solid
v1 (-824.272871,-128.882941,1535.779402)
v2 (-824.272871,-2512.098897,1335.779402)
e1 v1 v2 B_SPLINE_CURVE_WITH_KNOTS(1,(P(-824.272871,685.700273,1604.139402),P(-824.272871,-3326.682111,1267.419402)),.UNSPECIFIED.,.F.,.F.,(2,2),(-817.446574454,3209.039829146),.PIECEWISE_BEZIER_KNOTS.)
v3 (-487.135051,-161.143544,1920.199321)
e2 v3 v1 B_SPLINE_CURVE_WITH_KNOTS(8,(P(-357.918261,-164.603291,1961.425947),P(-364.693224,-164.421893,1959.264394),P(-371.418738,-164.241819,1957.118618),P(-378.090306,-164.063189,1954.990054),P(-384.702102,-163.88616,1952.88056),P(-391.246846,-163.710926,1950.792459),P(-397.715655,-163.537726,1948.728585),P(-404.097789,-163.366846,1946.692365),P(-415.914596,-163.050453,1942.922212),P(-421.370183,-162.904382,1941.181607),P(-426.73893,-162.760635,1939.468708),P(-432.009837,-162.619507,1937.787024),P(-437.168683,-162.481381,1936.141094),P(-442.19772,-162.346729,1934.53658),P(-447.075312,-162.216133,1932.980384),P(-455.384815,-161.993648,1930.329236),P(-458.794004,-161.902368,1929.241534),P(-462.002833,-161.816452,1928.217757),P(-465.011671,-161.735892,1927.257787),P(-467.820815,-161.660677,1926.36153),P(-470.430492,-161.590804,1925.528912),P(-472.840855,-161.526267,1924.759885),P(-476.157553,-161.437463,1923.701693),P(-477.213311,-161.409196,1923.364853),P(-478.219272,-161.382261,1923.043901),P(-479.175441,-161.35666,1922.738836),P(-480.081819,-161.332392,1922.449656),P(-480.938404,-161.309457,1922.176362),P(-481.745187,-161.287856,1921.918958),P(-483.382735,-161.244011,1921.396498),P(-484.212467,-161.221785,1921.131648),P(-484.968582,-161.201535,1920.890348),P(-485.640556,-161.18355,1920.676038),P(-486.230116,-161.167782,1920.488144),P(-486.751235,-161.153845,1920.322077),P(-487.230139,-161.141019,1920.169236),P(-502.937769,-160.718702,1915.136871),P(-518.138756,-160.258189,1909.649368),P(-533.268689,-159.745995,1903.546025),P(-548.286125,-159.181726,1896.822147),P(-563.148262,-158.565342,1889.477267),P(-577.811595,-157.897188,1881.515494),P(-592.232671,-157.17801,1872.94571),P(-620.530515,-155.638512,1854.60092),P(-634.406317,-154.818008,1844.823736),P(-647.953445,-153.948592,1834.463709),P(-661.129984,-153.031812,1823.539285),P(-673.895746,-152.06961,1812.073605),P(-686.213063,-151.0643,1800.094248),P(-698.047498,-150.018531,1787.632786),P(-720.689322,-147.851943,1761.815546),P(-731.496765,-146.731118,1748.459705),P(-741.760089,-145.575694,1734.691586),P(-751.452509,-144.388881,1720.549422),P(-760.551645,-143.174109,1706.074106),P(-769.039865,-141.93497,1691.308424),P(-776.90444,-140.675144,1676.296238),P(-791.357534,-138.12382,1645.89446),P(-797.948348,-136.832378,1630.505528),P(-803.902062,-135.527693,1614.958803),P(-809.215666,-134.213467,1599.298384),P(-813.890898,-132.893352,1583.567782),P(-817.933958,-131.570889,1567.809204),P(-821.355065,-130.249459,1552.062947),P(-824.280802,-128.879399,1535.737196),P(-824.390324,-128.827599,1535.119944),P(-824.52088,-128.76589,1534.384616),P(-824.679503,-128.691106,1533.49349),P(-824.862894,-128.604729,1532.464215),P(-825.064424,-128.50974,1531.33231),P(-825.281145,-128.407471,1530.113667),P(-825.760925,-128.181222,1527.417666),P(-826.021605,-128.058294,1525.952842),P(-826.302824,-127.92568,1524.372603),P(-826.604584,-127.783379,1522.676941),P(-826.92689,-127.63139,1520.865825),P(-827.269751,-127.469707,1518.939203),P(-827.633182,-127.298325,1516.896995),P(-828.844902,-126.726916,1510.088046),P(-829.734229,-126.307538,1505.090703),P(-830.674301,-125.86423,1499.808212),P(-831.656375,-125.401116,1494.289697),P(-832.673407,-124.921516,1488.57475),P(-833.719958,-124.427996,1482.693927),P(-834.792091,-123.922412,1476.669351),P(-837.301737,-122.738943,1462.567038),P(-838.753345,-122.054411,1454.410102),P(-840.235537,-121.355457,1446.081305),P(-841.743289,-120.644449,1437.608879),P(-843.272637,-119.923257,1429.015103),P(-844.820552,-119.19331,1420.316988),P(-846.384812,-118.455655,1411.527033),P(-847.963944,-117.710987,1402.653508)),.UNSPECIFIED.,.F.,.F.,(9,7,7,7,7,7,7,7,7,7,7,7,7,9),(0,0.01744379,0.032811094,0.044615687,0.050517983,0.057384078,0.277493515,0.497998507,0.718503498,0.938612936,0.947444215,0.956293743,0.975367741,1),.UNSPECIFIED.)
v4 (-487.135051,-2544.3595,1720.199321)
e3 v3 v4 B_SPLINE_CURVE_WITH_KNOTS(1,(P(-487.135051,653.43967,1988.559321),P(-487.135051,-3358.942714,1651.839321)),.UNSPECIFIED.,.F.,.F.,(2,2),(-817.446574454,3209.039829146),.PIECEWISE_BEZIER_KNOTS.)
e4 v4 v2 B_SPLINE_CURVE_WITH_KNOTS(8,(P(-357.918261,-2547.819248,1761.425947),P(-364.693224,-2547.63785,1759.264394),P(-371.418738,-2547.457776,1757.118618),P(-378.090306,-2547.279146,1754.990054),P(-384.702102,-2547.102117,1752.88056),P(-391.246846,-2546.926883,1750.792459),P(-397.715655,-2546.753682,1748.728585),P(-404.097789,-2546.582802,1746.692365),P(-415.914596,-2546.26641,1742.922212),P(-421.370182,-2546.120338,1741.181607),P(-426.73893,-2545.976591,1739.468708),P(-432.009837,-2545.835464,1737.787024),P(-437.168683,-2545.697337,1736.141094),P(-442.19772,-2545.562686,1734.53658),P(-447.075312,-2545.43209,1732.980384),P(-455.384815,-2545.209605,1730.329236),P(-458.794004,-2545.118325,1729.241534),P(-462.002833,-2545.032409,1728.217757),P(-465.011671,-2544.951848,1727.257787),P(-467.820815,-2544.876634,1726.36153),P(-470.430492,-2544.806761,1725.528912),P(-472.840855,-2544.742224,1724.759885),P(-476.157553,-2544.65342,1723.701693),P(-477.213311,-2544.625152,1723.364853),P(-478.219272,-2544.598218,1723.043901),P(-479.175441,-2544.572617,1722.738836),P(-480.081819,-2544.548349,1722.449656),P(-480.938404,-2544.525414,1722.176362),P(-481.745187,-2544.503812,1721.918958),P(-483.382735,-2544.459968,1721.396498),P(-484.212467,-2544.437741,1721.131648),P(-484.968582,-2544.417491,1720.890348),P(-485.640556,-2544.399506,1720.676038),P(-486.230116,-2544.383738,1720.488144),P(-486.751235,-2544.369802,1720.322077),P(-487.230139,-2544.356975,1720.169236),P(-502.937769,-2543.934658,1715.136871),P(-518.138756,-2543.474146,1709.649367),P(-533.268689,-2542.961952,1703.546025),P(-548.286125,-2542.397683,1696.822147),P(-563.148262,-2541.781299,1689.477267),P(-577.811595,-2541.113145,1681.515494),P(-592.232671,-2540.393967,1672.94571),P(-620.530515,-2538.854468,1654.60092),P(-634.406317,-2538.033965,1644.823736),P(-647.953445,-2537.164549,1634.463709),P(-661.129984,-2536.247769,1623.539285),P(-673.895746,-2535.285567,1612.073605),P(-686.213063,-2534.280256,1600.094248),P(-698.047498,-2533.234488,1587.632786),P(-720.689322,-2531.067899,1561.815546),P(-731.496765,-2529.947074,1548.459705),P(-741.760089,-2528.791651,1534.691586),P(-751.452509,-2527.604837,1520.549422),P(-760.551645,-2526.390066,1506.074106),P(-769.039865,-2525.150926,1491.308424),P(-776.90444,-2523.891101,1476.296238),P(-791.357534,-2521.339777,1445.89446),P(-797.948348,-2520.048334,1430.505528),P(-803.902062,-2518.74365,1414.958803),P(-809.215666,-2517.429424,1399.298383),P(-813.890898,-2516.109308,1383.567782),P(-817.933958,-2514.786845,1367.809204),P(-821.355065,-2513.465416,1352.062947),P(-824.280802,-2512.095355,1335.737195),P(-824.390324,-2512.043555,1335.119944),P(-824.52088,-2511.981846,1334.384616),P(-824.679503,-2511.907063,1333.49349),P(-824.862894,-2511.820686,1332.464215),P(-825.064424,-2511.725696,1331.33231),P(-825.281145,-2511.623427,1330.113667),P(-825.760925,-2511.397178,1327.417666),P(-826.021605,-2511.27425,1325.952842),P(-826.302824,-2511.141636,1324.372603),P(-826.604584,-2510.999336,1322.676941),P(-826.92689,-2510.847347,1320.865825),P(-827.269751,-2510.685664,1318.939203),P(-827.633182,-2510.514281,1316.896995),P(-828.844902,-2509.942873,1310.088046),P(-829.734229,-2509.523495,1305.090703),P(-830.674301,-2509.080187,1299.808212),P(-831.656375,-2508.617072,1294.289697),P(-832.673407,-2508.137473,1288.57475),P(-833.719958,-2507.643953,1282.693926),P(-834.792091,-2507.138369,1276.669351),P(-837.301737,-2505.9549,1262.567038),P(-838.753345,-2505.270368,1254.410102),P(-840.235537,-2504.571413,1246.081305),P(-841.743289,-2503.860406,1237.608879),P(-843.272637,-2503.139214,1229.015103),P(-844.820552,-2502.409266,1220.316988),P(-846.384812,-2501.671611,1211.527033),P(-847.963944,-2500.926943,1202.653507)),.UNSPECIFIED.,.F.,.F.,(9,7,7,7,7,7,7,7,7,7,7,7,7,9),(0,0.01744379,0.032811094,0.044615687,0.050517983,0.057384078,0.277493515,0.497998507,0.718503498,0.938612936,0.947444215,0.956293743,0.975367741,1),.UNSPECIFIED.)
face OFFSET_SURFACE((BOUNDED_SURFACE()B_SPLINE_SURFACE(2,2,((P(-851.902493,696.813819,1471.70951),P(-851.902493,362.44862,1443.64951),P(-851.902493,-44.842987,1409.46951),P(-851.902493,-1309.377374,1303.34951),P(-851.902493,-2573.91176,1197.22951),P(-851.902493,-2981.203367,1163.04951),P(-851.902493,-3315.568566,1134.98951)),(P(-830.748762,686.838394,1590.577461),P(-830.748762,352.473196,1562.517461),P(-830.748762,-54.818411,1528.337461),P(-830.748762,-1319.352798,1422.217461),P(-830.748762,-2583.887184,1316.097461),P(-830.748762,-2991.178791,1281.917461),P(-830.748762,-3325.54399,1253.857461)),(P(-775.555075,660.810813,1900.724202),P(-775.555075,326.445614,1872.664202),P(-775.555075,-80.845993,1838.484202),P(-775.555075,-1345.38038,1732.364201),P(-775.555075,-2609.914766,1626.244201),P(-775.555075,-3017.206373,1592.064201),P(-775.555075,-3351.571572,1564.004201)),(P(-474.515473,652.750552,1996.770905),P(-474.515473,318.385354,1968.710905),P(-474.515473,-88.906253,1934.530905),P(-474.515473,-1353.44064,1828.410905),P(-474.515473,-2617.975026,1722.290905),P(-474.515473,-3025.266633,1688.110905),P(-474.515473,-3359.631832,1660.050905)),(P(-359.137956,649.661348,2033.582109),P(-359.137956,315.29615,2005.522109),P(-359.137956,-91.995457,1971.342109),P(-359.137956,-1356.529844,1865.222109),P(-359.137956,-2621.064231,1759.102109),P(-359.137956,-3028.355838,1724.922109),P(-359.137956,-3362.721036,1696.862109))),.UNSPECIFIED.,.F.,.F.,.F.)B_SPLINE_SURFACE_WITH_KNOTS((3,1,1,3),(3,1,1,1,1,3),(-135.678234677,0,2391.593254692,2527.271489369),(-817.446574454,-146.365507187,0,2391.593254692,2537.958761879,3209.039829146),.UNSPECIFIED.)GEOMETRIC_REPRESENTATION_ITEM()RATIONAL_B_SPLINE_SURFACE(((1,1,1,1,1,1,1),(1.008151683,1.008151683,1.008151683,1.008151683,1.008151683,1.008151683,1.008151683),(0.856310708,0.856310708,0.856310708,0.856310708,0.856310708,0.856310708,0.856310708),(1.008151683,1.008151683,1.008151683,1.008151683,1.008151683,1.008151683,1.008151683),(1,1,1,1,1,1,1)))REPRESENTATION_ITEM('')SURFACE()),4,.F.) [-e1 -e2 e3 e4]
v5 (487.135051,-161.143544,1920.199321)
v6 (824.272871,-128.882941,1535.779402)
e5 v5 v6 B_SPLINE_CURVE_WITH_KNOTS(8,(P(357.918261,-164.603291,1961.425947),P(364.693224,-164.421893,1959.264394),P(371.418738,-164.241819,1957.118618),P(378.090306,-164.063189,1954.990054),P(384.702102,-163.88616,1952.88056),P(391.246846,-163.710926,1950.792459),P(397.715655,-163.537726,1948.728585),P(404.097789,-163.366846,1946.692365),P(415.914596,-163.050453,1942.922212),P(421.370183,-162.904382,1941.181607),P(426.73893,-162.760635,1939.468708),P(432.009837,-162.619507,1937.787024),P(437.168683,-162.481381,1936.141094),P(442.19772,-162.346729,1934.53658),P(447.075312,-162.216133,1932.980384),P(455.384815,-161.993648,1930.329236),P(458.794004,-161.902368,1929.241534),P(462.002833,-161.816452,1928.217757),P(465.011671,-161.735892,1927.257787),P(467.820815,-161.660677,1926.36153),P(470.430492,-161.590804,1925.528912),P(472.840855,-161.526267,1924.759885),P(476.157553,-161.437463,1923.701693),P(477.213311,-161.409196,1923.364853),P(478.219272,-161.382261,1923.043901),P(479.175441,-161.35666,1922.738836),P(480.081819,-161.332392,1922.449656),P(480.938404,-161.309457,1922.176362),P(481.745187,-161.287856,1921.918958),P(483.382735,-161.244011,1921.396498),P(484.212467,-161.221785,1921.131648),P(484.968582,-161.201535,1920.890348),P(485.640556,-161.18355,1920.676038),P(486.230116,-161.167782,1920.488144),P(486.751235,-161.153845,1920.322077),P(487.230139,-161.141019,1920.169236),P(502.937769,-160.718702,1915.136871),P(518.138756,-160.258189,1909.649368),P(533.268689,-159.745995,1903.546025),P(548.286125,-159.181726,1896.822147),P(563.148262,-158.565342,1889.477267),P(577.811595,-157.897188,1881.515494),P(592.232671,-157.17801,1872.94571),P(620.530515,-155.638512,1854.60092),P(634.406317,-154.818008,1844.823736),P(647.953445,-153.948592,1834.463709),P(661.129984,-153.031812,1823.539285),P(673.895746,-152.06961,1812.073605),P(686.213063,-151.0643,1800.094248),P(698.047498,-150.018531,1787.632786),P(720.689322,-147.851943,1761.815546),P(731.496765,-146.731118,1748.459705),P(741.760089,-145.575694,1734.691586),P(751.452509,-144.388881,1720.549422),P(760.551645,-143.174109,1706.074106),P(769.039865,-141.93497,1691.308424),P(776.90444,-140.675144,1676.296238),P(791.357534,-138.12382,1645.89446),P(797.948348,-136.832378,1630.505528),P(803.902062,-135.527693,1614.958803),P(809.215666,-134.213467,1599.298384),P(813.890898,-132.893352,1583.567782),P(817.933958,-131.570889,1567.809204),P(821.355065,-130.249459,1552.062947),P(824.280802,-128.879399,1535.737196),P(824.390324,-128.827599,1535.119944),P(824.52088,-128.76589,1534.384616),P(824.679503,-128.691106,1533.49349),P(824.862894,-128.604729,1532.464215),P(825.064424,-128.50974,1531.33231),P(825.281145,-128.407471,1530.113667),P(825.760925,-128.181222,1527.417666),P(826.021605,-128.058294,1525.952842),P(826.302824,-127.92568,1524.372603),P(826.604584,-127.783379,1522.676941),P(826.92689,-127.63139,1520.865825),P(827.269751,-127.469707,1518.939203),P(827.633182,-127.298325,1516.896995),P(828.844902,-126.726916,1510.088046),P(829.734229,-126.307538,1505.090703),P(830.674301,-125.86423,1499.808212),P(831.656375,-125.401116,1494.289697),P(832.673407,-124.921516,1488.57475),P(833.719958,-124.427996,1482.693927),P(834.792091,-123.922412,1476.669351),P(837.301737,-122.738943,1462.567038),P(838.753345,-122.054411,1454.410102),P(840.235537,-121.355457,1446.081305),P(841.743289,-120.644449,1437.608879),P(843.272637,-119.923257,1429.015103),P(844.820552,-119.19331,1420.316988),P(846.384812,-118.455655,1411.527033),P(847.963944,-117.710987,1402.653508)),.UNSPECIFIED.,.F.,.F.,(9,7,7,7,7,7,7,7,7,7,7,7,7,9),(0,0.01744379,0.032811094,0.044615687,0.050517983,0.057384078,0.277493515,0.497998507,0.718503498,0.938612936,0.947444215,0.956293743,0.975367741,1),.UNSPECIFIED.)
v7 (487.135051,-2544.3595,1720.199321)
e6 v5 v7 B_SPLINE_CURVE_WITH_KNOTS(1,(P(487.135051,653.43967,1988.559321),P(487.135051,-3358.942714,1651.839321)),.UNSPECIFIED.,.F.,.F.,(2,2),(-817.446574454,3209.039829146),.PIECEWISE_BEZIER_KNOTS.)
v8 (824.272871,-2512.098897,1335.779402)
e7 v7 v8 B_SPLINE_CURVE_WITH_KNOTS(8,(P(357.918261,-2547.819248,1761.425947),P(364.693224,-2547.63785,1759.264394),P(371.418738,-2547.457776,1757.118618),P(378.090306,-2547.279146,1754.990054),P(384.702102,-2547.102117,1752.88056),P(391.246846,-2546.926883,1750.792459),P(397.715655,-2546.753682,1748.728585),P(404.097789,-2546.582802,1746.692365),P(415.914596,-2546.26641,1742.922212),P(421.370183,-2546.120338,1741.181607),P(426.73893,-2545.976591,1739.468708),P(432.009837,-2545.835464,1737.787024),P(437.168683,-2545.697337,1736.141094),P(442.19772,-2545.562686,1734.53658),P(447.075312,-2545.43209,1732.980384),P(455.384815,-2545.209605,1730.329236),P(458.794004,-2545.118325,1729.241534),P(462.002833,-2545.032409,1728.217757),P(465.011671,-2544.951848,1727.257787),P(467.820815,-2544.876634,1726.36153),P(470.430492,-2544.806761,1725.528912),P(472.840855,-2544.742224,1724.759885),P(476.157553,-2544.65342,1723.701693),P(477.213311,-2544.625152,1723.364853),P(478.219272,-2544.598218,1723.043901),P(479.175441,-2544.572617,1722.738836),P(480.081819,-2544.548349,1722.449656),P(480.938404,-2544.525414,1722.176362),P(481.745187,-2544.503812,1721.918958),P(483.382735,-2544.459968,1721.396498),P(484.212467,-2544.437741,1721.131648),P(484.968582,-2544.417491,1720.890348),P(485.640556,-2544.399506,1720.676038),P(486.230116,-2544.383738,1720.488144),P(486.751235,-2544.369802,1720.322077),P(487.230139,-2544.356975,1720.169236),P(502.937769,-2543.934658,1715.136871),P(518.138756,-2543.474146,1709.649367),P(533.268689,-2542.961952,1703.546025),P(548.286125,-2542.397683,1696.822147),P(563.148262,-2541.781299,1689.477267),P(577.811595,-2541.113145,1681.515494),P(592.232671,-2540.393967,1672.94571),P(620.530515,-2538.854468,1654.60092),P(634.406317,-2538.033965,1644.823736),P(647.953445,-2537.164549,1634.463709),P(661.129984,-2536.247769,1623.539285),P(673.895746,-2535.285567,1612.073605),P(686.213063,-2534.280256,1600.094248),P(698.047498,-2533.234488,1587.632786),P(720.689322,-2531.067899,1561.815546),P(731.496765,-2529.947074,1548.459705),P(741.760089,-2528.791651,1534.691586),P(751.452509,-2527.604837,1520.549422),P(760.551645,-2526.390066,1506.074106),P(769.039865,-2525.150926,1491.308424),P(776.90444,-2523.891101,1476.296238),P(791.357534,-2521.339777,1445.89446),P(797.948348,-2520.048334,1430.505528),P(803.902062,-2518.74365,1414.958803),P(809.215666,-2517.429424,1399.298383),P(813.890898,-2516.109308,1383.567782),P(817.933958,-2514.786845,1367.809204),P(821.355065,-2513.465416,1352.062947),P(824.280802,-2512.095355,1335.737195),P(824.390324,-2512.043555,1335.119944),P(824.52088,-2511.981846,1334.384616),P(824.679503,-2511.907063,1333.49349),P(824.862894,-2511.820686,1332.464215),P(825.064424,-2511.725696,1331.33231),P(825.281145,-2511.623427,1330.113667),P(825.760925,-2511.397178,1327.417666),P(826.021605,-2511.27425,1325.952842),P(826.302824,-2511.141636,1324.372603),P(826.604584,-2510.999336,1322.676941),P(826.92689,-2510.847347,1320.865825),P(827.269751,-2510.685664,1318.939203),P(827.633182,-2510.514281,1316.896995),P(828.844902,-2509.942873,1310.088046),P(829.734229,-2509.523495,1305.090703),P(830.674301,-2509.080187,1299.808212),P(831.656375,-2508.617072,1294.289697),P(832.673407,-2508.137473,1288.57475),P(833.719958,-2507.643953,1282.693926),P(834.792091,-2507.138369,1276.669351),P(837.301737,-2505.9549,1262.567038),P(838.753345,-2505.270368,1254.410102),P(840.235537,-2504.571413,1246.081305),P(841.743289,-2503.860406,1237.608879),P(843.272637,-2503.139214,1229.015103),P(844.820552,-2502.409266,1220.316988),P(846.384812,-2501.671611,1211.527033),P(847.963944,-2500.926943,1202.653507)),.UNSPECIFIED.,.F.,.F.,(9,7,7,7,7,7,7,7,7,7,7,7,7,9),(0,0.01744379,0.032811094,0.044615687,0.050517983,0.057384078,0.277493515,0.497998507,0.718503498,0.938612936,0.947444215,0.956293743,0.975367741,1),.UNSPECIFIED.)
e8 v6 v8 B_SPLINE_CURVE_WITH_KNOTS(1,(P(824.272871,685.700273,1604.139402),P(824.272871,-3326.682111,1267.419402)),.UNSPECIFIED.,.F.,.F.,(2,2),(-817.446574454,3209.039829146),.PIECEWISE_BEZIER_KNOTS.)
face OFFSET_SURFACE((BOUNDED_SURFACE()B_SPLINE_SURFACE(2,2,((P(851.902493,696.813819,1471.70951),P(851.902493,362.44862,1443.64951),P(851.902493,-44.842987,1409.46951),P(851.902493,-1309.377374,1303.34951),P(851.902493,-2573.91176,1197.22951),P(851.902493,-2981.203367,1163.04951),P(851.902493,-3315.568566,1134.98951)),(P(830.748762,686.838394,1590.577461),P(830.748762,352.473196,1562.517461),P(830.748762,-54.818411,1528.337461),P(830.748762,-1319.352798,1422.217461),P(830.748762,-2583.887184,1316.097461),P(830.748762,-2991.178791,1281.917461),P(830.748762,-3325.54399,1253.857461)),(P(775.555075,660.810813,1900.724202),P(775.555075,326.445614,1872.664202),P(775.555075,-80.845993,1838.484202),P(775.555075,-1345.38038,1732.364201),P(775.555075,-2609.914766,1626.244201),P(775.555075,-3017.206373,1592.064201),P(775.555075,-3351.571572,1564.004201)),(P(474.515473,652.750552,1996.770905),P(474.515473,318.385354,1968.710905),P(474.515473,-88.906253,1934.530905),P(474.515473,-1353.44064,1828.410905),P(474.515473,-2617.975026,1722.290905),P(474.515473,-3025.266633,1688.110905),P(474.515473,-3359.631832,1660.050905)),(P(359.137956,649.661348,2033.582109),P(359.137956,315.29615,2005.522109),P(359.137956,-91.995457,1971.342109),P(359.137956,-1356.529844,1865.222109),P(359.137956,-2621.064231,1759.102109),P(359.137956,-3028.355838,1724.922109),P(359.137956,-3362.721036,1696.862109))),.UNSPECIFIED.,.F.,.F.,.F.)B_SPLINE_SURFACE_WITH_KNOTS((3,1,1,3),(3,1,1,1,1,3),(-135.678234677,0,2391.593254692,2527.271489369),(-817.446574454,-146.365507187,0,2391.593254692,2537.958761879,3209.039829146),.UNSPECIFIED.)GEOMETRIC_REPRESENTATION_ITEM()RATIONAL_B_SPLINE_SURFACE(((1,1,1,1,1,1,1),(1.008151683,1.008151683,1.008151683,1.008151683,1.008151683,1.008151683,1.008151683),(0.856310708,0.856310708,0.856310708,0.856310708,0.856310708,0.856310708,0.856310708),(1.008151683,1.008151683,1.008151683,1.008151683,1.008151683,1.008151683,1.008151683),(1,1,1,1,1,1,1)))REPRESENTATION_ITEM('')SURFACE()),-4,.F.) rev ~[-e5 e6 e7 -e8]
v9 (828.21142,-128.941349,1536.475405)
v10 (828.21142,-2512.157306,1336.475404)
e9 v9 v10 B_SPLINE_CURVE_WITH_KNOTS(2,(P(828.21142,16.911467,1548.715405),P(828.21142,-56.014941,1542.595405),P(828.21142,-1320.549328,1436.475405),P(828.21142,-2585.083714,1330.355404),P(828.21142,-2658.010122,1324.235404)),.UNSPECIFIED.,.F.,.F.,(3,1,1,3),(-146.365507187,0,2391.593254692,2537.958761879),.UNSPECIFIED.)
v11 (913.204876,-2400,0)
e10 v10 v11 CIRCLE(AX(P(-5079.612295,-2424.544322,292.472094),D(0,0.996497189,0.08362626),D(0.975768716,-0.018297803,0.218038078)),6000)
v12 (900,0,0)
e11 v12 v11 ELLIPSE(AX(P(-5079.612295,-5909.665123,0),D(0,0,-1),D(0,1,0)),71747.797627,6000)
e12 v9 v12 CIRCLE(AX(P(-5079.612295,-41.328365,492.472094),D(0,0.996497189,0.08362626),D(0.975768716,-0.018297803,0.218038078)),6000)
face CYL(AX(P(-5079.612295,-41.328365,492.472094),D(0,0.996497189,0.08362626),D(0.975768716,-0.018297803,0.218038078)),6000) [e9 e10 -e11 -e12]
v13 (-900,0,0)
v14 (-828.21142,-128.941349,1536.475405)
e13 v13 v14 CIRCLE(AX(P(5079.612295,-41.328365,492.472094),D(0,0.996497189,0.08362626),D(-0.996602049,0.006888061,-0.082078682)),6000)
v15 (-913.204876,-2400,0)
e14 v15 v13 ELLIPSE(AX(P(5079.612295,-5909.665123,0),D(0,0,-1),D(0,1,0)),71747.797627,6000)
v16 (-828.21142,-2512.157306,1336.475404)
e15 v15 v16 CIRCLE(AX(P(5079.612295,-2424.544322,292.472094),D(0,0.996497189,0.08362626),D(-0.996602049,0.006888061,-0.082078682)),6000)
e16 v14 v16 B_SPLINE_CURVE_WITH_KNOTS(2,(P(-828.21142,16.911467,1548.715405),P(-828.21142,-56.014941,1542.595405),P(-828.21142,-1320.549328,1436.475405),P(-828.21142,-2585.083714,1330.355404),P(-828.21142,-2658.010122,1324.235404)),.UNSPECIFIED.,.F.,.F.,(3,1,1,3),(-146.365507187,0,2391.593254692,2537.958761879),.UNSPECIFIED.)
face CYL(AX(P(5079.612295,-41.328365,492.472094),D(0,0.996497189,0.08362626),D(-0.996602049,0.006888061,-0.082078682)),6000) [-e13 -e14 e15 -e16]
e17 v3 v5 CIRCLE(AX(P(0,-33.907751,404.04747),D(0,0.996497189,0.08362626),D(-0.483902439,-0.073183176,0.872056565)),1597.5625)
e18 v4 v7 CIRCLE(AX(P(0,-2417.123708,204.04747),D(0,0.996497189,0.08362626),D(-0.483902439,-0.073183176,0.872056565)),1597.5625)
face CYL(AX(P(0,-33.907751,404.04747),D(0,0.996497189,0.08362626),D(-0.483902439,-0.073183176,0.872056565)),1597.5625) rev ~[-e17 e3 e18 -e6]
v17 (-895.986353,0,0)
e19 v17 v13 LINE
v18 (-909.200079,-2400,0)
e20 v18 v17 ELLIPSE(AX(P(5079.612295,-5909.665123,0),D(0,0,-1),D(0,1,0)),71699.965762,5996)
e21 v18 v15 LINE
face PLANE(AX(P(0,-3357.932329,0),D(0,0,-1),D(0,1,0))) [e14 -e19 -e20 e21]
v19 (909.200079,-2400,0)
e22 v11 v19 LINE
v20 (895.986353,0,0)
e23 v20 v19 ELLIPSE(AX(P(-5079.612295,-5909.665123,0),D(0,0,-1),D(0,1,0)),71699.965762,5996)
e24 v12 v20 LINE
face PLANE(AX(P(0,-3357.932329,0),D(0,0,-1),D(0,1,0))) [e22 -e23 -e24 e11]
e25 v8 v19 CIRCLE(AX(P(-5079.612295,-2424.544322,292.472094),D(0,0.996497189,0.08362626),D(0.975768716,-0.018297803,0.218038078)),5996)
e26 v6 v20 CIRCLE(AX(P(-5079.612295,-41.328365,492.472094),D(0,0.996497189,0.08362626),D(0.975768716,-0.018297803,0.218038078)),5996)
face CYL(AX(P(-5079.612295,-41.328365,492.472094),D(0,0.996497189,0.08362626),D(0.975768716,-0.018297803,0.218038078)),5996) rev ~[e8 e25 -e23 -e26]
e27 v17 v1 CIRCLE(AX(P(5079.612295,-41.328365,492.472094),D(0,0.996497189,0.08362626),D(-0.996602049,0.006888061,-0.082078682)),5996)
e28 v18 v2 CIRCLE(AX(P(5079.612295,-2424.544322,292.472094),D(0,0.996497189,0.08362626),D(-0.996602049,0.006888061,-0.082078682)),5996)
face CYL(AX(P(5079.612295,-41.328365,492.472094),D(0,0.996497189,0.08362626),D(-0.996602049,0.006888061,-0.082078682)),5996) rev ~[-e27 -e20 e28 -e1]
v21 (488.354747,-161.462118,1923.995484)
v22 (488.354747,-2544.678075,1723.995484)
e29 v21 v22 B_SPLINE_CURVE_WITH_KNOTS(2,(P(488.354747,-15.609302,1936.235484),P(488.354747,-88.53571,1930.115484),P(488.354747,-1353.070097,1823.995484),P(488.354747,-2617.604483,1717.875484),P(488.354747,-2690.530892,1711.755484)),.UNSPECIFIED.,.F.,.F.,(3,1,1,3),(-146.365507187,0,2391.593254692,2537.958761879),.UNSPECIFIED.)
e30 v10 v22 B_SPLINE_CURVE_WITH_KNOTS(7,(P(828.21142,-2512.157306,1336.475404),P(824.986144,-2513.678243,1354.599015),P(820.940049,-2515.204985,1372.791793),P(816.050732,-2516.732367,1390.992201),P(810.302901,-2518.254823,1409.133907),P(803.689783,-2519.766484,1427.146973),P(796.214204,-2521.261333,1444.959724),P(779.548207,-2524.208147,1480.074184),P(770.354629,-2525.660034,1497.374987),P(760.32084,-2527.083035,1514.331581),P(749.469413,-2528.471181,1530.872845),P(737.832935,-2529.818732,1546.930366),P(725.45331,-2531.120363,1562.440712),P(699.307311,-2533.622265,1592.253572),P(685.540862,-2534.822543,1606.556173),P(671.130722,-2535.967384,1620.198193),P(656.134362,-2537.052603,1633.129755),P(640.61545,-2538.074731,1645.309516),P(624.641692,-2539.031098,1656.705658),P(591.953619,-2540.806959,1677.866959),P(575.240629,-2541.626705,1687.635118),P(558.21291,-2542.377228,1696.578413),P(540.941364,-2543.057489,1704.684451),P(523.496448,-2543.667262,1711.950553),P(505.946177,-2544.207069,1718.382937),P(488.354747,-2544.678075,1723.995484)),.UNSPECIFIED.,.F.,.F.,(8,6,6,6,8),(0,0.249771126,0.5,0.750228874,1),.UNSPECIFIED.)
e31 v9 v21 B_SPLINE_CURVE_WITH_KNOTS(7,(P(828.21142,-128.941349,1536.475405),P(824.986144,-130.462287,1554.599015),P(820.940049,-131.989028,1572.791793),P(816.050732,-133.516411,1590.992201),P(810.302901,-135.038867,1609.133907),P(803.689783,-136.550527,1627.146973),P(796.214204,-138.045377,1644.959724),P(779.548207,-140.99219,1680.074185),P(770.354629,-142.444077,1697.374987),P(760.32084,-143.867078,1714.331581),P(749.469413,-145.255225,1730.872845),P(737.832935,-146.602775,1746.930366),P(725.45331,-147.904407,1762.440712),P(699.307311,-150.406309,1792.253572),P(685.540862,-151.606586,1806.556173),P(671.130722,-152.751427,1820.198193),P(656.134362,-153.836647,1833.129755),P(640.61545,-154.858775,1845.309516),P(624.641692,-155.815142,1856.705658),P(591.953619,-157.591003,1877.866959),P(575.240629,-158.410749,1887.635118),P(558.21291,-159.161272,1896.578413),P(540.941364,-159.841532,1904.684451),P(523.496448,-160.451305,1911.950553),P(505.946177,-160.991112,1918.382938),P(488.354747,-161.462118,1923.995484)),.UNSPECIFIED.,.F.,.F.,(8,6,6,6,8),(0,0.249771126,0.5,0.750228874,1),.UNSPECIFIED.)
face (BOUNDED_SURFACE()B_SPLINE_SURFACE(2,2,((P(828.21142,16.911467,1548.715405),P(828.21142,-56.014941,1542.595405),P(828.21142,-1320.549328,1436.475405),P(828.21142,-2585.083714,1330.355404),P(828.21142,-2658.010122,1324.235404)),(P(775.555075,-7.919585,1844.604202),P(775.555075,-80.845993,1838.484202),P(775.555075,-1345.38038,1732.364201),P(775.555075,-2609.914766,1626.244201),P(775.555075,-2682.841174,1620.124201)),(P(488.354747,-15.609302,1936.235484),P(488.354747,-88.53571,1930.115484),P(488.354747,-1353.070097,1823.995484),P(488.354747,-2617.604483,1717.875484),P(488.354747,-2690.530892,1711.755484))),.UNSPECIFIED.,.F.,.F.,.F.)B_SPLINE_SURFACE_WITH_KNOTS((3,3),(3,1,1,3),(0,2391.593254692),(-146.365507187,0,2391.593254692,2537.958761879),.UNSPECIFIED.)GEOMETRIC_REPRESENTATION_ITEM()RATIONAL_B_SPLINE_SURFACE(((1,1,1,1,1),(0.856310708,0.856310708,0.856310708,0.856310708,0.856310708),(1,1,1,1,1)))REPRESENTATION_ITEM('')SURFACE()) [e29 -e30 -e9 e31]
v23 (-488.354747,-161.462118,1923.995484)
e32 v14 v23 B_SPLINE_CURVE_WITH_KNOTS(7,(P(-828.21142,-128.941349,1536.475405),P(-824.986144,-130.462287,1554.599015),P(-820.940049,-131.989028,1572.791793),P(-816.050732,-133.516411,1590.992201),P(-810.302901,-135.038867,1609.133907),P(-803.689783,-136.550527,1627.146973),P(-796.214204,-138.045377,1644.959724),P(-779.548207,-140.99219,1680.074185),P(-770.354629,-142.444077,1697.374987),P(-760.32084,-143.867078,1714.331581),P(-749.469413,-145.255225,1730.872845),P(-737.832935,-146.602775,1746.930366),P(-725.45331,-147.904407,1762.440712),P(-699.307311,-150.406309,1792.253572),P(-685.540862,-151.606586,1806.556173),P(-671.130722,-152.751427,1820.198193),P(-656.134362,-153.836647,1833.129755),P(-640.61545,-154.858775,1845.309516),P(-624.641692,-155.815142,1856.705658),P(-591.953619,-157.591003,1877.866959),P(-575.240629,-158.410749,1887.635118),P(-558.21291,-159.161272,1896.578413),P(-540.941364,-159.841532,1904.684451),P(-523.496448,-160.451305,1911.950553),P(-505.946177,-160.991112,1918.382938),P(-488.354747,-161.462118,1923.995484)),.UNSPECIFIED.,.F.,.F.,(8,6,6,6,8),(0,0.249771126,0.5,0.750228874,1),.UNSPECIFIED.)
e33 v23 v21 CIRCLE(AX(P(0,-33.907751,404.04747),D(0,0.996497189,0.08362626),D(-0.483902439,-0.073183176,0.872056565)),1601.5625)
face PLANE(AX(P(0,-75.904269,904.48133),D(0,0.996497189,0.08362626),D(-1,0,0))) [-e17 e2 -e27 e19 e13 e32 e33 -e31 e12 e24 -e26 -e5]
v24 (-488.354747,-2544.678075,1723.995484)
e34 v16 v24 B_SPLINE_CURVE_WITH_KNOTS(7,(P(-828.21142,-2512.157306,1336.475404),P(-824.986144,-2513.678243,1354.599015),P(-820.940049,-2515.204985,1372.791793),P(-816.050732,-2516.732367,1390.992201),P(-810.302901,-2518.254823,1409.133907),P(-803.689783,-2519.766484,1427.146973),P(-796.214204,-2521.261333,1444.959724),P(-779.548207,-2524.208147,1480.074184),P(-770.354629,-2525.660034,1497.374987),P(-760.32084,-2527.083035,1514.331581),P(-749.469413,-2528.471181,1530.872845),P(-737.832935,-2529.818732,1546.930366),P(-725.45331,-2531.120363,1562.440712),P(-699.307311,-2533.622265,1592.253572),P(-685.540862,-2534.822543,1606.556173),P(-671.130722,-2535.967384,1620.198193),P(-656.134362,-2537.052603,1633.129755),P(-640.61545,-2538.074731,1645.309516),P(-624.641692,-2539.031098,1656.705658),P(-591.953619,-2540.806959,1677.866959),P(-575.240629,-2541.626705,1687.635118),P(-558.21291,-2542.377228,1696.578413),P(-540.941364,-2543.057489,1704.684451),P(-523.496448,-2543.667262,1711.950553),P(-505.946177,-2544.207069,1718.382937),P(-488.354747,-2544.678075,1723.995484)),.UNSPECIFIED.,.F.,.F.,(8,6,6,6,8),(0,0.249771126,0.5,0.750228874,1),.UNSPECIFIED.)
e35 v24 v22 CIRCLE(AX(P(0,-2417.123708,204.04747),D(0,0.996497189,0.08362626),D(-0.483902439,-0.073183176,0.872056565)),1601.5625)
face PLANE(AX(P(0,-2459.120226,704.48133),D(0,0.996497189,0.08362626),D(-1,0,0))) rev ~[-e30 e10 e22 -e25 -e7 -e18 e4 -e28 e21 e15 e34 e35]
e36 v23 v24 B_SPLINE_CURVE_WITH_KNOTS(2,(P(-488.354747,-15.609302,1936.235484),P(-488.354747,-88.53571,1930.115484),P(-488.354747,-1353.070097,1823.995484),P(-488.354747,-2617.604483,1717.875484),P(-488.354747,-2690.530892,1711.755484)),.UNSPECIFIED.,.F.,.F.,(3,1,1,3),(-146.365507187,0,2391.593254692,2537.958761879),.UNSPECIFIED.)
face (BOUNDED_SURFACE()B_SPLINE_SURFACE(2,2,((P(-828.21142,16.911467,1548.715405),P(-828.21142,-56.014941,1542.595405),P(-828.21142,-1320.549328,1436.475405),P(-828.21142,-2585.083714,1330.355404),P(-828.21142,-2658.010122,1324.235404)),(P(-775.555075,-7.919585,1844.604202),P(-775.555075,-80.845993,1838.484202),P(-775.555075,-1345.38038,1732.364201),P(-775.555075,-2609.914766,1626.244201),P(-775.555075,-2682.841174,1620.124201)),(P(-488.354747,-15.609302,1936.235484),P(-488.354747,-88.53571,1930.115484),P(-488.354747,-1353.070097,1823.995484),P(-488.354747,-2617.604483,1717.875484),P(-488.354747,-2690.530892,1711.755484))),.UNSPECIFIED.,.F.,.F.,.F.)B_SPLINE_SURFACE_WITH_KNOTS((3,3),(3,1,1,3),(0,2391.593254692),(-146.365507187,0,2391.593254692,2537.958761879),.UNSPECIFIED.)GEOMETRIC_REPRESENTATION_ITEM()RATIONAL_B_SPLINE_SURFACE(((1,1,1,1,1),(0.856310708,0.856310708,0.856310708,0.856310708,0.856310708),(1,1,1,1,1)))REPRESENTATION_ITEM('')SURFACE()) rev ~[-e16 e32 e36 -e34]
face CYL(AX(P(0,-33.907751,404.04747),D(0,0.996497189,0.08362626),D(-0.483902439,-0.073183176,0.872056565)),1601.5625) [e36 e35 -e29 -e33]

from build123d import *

# Parameters (mm, degrees)
F3_DEPTH = 2391.5932546919
F4_R     = 500
F5_W     = 3357.9323291779
F5_H     = 1677.524805069
F6_DEPTH = 1000
F7_T     = -4


with BuildPart() as f3:
    # F2 (on line) → F3 (new body, through all)
    with BuildSketch(Plane(origin=(0, 0, 0), x_dir=(-1, 0, 0), z_dir=(0, 0.9964971895, 0.0836262603))):
        with BuildLine():
            ThreePointArc((-775, 1807.0302467124), (-906.0837789516, 908.2593562679), (-900, 0))
            Line((-900, 0), (900, 0))
            ThreePointArc((900, 0), (906.0837789516, 908.2593562679), (775, 1807.0302467124))
            ThreePointArc((775, 1807.0302467124), (0, 2007.0302467124), (-775, 1807.0302467124))
        make_face()
    extrude(amount=-F3_DEPTH)

    # F4
    f4_edges = [f3.edges().sort_by_distance(p)[0] for p in [
        (775, -1342.72316, 1700.700562),
        (-775, -1342.72316, 1700.700562),
    ]]
    fillet(f4_edges, radius=F4_R)

    # F5 (on Right) → F6 (cut, symmetric)
    with BuildSketch(Plane.YZ):
        with Locations((-1678.9661645889, -838.7624025345)):
            Rectangle(F5_W, F5_H)
    extrude(amount=F6_DEPTH, both=True, mode=Mode.SUBTRACT)

    # F7
    f7_openings = [f3.faces().sort_by_distance(p)[0] for p in [
        (0, -78.481532, 935.192192),
        (0, -2470.159262, 836.023363),
        (0, -1202.911074, 0),
    ]]
    offset(amount=F7_T, openings=f7_openings, kind=Kind.INTERSECTION)


solid = f3.part
